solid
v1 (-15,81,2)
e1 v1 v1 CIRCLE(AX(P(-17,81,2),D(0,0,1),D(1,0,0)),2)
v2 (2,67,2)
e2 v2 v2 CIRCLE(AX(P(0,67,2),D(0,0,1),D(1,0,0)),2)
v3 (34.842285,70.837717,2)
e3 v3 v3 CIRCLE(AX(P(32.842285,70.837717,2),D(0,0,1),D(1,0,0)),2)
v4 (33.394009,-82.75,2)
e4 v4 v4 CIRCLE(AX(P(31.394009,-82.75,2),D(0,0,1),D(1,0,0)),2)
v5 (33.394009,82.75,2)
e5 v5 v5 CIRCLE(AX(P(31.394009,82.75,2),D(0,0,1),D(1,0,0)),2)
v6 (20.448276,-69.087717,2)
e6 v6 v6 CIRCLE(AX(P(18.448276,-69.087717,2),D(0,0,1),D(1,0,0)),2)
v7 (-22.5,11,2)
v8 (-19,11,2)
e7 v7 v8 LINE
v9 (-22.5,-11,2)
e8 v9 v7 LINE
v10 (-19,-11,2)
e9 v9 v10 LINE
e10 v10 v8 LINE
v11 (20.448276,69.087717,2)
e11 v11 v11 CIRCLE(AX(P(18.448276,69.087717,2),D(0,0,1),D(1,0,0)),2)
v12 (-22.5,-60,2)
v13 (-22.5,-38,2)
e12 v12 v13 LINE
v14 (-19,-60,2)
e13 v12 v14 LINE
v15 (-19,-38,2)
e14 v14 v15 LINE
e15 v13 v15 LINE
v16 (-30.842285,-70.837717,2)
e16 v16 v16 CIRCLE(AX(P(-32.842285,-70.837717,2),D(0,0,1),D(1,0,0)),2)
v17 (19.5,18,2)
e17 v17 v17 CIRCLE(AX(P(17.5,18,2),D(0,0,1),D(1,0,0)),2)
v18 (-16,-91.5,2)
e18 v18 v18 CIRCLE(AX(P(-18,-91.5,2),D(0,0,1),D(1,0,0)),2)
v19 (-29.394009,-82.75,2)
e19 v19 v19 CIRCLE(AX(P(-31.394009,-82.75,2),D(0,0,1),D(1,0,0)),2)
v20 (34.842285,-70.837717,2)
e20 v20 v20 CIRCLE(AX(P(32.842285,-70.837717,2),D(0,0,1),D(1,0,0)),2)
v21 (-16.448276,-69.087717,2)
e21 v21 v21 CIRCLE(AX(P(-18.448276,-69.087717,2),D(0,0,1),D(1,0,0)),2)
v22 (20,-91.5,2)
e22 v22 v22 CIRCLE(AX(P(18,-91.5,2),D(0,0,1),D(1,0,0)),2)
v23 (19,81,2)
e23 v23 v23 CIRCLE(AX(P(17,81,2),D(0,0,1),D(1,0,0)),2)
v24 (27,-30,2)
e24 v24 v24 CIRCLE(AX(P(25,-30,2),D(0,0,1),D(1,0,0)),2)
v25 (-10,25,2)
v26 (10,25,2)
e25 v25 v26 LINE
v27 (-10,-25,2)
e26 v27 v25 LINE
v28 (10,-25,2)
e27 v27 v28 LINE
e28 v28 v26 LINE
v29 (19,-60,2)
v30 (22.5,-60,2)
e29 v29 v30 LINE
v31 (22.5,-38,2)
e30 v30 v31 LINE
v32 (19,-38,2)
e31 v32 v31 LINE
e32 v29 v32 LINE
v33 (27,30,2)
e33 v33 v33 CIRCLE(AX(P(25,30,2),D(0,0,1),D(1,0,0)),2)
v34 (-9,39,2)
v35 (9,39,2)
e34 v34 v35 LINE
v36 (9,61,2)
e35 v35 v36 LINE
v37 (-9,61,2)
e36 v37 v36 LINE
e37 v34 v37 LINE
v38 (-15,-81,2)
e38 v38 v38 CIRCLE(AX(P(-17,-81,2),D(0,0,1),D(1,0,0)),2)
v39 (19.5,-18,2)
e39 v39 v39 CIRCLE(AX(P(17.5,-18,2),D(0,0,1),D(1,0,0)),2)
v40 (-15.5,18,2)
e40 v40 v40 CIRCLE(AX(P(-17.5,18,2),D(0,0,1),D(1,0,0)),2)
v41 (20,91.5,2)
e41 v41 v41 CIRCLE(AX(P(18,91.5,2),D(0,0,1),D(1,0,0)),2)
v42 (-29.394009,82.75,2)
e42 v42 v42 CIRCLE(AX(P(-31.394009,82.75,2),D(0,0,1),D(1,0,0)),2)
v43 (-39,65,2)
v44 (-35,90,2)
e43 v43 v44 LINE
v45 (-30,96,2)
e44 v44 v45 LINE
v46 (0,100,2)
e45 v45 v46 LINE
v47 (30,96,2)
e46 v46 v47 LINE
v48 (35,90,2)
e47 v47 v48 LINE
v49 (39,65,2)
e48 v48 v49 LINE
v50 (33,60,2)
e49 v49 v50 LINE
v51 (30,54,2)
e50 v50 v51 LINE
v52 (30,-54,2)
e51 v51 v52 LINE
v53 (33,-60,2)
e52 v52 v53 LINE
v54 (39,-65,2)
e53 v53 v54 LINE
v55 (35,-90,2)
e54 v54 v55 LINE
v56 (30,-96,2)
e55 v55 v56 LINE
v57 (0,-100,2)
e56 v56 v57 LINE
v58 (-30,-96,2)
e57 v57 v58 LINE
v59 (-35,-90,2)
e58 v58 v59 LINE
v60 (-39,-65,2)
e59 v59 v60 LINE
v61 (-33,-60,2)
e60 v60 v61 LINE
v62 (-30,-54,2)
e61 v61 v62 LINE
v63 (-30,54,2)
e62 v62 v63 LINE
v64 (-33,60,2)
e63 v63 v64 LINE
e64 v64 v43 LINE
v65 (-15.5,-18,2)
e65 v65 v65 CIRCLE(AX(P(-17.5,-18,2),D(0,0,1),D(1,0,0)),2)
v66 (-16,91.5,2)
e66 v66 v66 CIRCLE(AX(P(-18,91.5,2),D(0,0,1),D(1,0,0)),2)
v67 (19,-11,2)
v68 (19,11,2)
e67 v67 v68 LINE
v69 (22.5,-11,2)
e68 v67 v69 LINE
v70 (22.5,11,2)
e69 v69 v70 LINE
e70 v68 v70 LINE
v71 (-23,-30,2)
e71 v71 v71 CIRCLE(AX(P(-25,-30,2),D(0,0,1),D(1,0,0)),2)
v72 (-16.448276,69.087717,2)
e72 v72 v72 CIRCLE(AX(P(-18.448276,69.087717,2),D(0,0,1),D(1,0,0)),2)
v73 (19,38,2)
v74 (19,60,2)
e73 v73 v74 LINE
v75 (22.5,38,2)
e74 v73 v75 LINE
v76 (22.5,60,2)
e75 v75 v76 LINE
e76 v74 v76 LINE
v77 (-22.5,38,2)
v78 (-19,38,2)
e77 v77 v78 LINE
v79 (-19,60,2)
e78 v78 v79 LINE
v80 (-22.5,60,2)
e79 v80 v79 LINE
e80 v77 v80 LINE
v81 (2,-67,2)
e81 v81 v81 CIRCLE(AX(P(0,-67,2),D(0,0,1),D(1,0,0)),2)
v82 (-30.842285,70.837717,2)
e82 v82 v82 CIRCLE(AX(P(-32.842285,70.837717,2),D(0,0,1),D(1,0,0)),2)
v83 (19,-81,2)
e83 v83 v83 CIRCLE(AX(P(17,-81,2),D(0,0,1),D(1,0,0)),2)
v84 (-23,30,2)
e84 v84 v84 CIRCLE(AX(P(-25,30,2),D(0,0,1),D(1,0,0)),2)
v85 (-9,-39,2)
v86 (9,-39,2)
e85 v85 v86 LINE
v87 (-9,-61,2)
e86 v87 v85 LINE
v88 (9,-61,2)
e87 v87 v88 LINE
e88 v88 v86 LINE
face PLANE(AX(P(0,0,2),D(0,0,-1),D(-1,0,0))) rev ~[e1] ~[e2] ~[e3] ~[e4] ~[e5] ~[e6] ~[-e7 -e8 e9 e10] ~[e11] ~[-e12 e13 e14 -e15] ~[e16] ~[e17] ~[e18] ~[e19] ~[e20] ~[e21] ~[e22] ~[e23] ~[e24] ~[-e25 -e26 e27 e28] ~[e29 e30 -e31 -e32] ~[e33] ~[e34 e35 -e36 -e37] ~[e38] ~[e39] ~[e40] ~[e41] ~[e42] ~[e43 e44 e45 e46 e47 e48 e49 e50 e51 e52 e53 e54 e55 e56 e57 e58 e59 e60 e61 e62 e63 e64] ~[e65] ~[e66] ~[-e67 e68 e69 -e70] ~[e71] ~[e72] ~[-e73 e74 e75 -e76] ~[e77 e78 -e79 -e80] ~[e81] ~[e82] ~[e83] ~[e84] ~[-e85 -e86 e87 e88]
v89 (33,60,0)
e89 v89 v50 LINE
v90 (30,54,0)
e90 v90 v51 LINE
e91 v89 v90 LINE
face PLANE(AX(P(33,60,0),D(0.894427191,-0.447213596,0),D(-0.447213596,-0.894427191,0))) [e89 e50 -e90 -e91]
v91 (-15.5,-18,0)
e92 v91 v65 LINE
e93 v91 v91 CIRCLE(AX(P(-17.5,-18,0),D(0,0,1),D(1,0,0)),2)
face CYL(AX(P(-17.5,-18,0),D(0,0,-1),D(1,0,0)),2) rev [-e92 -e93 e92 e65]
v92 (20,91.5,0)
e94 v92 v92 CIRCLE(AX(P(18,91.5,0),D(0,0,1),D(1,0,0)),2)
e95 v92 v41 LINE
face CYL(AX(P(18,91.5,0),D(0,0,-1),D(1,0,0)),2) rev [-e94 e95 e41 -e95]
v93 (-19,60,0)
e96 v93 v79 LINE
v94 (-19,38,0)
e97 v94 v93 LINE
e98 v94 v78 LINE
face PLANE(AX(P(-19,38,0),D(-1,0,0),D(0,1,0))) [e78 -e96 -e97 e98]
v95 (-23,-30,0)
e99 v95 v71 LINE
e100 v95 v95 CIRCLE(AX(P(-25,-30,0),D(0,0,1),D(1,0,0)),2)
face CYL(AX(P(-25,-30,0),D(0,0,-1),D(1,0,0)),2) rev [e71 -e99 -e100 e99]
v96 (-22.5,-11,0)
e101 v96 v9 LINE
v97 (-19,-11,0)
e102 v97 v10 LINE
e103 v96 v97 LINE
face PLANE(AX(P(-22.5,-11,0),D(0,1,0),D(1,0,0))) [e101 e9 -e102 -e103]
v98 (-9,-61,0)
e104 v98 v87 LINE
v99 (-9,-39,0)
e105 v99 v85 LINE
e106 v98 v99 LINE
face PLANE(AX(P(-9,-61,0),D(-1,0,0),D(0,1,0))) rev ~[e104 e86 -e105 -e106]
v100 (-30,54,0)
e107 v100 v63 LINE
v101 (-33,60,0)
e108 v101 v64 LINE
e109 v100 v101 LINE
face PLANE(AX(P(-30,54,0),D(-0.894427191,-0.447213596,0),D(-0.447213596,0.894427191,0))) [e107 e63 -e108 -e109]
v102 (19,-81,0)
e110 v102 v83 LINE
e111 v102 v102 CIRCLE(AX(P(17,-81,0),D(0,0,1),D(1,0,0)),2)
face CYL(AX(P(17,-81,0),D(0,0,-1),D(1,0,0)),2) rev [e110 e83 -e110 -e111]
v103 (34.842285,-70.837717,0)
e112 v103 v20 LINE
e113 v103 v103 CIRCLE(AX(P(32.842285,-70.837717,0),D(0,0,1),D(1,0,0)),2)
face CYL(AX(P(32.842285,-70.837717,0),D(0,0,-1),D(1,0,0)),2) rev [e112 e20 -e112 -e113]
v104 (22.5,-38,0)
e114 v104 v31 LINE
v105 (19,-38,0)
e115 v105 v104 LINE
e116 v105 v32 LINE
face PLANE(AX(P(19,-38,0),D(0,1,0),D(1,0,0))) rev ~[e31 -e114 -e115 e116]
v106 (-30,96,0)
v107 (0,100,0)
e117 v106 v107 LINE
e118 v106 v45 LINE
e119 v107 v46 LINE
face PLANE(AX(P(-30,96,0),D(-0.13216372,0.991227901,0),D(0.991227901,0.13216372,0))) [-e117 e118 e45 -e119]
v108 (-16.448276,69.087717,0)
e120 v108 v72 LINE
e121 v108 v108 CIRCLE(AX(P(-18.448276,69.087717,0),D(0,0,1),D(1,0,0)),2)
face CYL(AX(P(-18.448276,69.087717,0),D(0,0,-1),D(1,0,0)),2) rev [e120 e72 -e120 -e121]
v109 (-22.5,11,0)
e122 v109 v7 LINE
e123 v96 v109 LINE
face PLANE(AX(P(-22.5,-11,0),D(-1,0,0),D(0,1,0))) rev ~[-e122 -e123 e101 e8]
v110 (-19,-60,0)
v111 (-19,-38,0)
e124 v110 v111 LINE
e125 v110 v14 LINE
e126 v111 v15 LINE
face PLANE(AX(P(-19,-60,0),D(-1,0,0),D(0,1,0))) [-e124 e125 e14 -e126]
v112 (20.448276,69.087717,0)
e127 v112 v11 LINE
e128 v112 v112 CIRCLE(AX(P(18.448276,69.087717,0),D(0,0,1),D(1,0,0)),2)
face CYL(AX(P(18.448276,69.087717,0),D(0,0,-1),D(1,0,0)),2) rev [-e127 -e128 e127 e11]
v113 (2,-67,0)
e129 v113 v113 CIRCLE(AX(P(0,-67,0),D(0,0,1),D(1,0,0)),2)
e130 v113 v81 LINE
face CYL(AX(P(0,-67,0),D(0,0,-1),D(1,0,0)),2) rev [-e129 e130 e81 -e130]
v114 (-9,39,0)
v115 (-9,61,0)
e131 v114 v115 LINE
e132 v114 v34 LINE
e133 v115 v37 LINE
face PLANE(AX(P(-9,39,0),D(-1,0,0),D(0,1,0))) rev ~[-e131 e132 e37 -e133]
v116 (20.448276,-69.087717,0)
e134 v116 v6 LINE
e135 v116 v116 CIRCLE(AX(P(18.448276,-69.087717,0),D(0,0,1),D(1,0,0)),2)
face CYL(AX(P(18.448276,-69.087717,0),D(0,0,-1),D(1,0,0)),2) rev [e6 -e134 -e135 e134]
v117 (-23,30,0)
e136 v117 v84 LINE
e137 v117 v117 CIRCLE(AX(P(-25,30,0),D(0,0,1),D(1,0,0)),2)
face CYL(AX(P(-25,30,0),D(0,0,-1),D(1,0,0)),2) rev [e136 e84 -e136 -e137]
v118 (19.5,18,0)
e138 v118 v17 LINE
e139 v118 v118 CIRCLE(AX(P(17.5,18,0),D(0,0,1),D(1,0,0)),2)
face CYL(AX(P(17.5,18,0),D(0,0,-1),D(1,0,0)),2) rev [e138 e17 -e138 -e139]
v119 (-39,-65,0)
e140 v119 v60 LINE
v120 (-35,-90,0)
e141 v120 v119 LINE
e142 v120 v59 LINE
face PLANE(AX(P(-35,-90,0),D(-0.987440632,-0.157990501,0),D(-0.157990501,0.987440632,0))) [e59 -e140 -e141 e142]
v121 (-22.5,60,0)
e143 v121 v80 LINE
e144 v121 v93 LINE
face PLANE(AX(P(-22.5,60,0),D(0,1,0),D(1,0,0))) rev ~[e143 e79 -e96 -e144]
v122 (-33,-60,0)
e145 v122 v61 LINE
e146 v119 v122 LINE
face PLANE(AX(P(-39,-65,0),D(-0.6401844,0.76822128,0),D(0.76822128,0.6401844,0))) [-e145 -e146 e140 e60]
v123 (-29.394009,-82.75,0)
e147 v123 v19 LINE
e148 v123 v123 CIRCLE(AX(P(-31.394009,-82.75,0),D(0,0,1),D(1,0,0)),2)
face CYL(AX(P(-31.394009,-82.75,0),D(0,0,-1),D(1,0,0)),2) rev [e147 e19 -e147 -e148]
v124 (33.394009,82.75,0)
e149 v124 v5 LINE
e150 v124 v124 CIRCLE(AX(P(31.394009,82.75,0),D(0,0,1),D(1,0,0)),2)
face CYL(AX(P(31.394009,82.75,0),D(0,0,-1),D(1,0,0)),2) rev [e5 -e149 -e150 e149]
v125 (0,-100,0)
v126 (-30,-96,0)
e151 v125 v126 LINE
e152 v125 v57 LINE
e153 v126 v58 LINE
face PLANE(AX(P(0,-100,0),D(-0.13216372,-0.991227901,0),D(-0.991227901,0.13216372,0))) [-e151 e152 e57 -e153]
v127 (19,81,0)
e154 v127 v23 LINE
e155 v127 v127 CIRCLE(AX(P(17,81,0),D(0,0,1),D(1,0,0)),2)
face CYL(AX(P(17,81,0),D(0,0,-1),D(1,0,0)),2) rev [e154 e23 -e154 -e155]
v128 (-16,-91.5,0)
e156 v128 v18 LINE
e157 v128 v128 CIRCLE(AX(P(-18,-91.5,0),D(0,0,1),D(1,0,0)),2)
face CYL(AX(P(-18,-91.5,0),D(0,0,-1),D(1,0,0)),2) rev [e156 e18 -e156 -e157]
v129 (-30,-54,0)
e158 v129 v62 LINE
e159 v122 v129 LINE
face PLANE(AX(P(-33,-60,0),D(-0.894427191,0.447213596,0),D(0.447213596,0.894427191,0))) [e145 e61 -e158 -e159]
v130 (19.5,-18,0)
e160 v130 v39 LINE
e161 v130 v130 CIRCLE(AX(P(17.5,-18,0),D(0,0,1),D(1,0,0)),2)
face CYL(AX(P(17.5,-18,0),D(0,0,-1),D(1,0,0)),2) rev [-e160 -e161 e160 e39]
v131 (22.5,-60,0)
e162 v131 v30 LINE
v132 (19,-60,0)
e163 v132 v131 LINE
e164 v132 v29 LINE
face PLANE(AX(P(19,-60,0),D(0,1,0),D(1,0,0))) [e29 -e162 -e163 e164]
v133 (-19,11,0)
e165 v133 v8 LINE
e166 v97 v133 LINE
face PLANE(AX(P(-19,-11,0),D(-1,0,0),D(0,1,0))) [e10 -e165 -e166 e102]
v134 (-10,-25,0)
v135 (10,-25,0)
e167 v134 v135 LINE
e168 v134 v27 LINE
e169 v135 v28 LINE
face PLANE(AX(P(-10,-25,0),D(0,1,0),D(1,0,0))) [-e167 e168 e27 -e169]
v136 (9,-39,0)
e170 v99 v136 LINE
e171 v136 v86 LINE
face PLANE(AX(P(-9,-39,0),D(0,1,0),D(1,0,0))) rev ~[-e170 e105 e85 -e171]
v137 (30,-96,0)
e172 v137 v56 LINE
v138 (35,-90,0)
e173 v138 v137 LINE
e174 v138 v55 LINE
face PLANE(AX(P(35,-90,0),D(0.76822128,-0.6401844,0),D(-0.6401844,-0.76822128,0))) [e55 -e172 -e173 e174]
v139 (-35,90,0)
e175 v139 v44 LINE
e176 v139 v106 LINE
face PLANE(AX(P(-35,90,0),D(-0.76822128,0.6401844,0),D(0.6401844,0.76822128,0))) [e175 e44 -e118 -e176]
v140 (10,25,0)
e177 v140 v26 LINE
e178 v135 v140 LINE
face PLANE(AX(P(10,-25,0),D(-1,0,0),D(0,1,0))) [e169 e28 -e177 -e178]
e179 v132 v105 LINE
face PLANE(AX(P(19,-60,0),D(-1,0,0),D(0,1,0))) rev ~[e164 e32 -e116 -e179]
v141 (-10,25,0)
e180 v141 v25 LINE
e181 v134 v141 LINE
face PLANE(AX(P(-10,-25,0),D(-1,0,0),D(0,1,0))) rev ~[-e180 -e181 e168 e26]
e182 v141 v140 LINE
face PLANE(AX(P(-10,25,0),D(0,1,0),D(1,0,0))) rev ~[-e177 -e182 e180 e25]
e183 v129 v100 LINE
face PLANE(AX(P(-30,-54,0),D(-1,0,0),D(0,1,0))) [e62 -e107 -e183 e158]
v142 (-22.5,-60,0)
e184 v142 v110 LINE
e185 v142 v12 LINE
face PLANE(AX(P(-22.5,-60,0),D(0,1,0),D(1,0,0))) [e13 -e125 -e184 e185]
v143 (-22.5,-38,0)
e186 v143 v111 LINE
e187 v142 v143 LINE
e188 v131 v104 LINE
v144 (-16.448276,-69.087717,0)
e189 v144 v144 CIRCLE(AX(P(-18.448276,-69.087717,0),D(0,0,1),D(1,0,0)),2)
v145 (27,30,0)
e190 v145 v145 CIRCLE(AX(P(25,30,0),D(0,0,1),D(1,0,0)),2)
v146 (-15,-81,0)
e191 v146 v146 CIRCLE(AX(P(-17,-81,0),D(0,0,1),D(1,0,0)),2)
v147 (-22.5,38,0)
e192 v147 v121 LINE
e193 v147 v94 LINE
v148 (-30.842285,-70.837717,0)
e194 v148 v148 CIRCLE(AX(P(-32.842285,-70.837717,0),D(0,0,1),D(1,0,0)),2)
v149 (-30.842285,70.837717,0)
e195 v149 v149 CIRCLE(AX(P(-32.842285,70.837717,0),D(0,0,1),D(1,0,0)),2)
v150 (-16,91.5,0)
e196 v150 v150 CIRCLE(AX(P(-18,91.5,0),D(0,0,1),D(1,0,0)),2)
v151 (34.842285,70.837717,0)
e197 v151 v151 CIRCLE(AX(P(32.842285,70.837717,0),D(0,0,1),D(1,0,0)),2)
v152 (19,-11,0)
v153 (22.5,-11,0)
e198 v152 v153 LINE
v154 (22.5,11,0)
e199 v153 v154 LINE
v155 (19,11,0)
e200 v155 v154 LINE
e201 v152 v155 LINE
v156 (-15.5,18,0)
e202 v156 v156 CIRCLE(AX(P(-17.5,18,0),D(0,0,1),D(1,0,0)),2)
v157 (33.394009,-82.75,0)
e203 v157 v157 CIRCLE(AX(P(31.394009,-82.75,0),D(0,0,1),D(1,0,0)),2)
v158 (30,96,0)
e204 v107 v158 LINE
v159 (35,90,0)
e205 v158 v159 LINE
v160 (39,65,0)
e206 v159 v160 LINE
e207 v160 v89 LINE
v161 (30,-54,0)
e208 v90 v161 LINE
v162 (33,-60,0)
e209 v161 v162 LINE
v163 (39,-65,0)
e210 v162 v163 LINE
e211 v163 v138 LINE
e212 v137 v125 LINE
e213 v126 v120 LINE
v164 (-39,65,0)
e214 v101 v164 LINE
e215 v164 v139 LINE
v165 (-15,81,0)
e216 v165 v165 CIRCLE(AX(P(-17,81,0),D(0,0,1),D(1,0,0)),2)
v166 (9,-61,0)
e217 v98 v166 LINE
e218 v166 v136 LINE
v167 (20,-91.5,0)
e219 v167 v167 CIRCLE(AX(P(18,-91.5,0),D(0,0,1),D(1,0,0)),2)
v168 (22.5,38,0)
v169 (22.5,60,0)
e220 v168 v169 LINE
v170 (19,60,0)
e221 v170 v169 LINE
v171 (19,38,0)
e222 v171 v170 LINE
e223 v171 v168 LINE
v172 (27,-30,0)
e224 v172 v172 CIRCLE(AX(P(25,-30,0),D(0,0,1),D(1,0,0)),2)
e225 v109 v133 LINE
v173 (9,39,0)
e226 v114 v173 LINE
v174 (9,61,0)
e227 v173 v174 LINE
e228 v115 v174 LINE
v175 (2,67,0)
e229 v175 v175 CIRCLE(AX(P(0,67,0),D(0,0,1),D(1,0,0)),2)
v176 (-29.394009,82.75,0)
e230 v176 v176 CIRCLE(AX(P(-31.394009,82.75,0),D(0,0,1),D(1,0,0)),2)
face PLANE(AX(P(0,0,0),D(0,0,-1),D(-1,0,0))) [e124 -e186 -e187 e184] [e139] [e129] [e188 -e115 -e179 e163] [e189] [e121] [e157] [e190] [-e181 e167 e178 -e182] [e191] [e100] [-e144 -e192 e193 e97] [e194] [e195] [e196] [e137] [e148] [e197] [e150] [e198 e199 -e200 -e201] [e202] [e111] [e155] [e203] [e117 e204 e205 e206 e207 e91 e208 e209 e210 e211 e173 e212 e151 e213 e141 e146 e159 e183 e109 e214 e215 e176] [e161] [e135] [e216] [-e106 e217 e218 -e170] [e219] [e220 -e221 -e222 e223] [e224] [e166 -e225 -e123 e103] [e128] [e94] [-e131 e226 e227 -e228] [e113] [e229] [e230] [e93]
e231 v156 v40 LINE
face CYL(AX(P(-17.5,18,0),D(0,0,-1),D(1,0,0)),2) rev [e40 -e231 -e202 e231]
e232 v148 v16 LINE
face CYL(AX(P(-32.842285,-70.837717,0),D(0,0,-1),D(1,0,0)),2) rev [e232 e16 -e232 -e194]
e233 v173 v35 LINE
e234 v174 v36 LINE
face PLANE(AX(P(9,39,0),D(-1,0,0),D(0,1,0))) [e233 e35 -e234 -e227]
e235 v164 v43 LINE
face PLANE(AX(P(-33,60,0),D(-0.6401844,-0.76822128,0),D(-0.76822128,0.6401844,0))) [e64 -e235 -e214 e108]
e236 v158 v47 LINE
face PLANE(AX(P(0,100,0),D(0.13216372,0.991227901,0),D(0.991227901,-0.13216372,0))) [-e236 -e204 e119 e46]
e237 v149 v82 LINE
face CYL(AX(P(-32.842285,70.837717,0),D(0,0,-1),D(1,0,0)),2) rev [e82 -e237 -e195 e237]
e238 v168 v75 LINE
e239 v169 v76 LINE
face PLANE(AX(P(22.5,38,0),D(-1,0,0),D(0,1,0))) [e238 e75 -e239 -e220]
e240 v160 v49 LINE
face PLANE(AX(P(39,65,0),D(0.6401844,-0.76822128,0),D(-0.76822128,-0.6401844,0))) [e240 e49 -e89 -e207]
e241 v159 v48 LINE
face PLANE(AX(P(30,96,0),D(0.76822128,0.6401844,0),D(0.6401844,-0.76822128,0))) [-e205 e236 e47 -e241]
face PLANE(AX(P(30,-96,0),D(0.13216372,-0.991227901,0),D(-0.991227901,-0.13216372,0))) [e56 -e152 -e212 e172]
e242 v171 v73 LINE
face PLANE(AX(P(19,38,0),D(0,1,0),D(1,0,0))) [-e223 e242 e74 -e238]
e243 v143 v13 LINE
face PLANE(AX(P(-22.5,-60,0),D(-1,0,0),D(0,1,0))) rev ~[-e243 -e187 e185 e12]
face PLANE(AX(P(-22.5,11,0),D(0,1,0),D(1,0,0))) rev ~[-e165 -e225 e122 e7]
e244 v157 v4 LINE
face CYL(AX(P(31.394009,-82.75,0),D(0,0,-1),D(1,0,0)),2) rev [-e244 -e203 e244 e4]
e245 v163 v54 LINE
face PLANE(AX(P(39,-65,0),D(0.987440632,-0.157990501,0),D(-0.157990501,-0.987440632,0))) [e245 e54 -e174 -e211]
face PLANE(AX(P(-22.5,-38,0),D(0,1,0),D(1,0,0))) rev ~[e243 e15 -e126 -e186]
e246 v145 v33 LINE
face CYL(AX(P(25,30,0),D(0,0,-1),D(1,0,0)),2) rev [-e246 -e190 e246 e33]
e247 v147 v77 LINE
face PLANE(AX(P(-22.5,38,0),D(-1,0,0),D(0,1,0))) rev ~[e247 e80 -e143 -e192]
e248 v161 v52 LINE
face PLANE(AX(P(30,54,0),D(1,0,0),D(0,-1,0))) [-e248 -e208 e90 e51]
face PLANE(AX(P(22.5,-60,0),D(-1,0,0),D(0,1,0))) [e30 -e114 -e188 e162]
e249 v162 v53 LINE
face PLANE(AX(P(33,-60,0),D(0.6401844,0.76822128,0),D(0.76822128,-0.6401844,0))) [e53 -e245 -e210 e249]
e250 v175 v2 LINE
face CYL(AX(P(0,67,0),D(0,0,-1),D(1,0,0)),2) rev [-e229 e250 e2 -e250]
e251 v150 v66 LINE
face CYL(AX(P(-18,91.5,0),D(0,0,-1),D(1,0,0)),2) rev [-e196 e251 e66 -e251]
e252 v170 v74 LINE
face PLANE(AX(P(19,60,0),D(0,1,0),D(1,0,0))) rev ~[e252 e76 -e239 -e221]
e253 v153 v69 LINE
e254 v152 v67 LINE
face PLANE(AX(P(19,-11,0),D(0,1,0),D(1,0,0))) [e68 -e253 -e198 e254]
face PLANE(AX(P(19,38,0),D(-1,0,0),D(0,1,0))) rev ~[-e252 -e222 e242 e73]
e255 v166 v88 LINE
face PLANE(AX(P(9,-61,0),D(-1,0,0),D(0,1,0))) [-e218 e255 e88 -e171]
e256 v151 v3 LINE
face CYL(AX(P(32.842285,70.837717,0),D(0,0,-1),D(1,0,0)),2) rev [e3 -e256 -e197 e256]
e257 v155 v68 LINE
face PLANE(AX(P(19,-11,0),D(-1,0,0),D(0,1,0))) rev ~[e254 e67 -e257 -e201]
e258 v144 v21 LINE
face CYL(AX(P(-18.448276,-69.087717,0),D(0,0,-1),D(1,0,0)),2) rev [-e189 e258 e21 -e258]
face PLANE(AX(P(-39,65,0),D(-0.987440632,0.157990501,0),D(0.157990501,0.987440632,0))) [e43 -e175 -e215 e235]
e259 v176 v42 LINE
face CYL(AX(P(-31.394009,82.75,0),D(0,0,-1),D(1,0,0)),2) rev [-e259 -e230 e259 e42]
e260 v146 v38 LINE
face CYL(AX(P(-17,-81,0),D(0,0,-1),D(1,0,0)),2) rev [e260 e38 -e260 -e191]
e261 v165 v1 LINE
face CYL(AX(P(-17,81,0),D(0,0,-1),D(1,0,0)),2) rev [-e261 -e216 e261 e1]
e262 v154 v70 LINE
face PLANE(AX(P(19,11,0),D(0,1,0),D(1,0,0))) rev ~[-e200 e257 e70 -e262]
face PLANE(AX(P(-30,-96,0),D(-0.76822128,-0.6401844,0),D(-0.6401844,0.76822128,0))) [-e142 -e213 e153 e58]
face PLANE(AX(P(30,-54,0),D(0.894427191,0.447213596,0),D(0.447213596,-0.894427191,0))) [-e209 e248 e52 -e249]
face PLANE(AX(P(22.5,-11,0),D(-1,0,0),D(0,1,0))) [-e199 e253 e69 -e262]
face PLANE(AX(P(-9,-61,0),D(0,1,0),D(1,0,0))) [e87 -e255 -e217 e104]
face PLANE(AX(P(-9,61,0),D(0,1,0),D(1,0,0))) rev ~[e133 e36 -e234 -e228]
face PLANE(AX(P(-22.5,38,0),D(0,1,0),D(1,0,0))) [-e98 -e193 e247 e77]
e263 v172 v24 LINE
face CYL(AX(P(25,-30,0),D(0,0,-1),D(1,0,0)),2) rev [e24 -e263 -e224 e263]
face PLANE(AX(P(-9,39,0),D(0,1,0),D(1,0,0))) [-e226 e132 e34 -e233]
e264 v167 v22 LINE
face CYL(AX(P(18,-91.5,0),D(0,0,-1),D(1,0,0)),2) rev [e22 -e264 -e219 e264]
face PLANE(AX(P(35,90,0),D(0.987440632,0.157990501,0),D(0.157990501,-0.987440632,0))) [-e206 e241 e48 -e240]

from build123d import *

# Parameters (mm, degrees)
SKETCH1_R           = 2
SKETCH1_W           = 3.5
SKETCH1_H           = 22
SKETCH1_W_2         = 18
SKETCH1_W_3         = 20
SKETCH1_H_2         = 50
BOSS_EXTRUDE1_DEPTH = 2


with BuildPart() as part:
    # Sketch1 → Boss-Extrude1 (new body)
    with BuildSketch(Plane.XY):
        Polygon((0, -100), (-30, -96), (-35, -90), (-39, -65), (-33, -60), (-30, -54), (-30, 54), (-33, 60), (-39, 65), (-35, 90), (-30, 96), (0, 100), (30, 96), (35, 90), (39, 65), (33, 60), (30, 54), (30, -54), (33, -60), (39, -65), (35, -90), (30, -96), align=None)
        with Locations((-18, -91.5)):
            Circle(SKETCH1_R, mode=Mode.SUBTRACT)
        with Locations((-17, -81)):
            Circle(SKETCH1_R, mode=Mode.SUBTRACT)
        with Locations((-31.39400917, -82.75)):
            Circle(SKETCH1_R, mode=Mode.SUBTRACT)
        with Locations((-32.842285033, -70.837716549)):
            Circle(SKETCH1_R, mode=Mode.SUBTRACT)
        with Locations((-18.448275862, -69.087716549)):
            Circle(SKETCH1_R, mode=Mode.SUBTRACT)
        with Locations((-25, -30)):
            Circle(SKETCH1_R, mode=Mode.SUBTRACT)
        with Locations((-17.5, -18)):
            Circle(SKETCH1_R, mode=Mode.SUBTRACT)
        with Locations((0, -67)):
            Circle(SKETCH1_R, mode=Mode.SUBTRACT)
        with Locations((17.5, -18)):
            Circle(SKETCH1_R, mode=Mode.SUBTRACT)
        with Locations((25, -30)):
            Circle(SKETCH1_R, mode=Mode.SUBTRACT)
        with Locations((18.448275862, -69.087716549)):
            Circle(SKETCH1_R, mode=Mode.SUBTRACT)
        with Locations((32.842285033, -70.837716549)):
            Circle(SKETCH1_R, mode=Mode.SUBTRACT)
        with Locations((31.39400917, -82.75)):
            Circle(SKETCH1_R, mode=Mode.SUBTRACT)
        with Locations((17, -81)):
            Circle(SKETCH1_R, mode=Mode.SUBTRACT)
        with Locations((18, -91.5)):
            Circle(SKETCH1_R, mode=Mode.SUBTRACT)
        with Locations((18, 91.5)):
            Circle(SKETCH1_R, mode=Mode.SUBTRACT)
        with Locations((17, 81)):
            Circle(SKETCH1_R, mode=Mode.SUBTRACT)
        with Locations((31.39400917, 82.75)):
            Circle(SKETCH1_R, mode=Mode.SUBTRACT)
        with Locations((32.842285033, 70.837716549)):
            Circle(SKETCH1_R, mode=Mode.SUBTRACT)
        with Locations((18.448275862, 69.087716549)):
            Circle(SKETCH1_R, mode=Mode.SUBTRACT)
        with Locations((25, 30)):
            Circle(SKETCH1_R, mode=Mode.SUBTRACT)
        with Locations((17.5, 18)):
            Circle(SKETCH1_R, mode=Mode.SUBTRACT)
        with Locations((0, 67)):
            Circle(SKETCH1_R, mode=Mode.SUBTRACT)
        with Locations((-17.5, 18)):
            Circle(SKETCH1_R, mode=Mode.SUBTRACT)
        with Locations((-25, 30)):
            Circle(SKETCH1_R, mode=Mode.SUBTRACT)
        with Locations((-18.448275862, 69.087716549)):
            Circle(SKETCH1_R, mode=Mode.SUBTRACT)
        with Locations((-32.842285033, 70.837716549)):
            Circle(SKETCH1_R, mode=Mode.SUBTRACT)
        with Locations((-31.39400917, 82.75)):
            Circle(SKETCH1_R, mode=Mode.SUBTRACT)
        with Locations((-17, 81)):
            Circle(SKETCH1_R, mode=Mode.SUBTRACT)
        with Locations((-18, 91.5)):
            Circle(SKETCH1_R, mode=Mode.SUBTRACT)
        with Locations((-20.75, -49)):
            Rectangle(SKETCH1_W, SKETCH1_H, mode=Mode.SUBTRACT)
        with Locations((0, -50)):
            Rectangle(SKETCH1_W_2, SKETCH1_H, mode=Mode.SUBTRACT)
        with Locations((-20.75, 0)):
            Rectangle(SKETCH1_W, SKETCH1_H, mode=Mode.SUBTRACT)
        with Locations((20.75, 0)):
            Rectangle(SKETCH1_W, SKETCH1_H, mode=Mode.SUBTRACT)
        with Locations((20.75, -49)):
            Rectangle(SKETCH1_W, SKETCH1_H, mode=Mode.SUBTRACT)
        with Locations((20.75, 49)):
            Rectangle(SKETCH1_W, SKETCH1_H, mode=Mode.SUBTRACT)
        with Locations((0, 50)):
            Rectangle(SKETCH1_W_2, SKETCH1_H, mode=Mode.SUBTRACT)
        with Locations((-20.75, 49)):
            Rectangle(SKETCH1_W, SKETCH1_H, mode=Mode.SUBTRACT)
        Rectangle(SKETCH1_W_3, SKETCH1_H_2, mode=Mode.SUBTRACT)
    extrude(amount=BOSS_EXTRUDE1_DEPTH)


solid = part.part
